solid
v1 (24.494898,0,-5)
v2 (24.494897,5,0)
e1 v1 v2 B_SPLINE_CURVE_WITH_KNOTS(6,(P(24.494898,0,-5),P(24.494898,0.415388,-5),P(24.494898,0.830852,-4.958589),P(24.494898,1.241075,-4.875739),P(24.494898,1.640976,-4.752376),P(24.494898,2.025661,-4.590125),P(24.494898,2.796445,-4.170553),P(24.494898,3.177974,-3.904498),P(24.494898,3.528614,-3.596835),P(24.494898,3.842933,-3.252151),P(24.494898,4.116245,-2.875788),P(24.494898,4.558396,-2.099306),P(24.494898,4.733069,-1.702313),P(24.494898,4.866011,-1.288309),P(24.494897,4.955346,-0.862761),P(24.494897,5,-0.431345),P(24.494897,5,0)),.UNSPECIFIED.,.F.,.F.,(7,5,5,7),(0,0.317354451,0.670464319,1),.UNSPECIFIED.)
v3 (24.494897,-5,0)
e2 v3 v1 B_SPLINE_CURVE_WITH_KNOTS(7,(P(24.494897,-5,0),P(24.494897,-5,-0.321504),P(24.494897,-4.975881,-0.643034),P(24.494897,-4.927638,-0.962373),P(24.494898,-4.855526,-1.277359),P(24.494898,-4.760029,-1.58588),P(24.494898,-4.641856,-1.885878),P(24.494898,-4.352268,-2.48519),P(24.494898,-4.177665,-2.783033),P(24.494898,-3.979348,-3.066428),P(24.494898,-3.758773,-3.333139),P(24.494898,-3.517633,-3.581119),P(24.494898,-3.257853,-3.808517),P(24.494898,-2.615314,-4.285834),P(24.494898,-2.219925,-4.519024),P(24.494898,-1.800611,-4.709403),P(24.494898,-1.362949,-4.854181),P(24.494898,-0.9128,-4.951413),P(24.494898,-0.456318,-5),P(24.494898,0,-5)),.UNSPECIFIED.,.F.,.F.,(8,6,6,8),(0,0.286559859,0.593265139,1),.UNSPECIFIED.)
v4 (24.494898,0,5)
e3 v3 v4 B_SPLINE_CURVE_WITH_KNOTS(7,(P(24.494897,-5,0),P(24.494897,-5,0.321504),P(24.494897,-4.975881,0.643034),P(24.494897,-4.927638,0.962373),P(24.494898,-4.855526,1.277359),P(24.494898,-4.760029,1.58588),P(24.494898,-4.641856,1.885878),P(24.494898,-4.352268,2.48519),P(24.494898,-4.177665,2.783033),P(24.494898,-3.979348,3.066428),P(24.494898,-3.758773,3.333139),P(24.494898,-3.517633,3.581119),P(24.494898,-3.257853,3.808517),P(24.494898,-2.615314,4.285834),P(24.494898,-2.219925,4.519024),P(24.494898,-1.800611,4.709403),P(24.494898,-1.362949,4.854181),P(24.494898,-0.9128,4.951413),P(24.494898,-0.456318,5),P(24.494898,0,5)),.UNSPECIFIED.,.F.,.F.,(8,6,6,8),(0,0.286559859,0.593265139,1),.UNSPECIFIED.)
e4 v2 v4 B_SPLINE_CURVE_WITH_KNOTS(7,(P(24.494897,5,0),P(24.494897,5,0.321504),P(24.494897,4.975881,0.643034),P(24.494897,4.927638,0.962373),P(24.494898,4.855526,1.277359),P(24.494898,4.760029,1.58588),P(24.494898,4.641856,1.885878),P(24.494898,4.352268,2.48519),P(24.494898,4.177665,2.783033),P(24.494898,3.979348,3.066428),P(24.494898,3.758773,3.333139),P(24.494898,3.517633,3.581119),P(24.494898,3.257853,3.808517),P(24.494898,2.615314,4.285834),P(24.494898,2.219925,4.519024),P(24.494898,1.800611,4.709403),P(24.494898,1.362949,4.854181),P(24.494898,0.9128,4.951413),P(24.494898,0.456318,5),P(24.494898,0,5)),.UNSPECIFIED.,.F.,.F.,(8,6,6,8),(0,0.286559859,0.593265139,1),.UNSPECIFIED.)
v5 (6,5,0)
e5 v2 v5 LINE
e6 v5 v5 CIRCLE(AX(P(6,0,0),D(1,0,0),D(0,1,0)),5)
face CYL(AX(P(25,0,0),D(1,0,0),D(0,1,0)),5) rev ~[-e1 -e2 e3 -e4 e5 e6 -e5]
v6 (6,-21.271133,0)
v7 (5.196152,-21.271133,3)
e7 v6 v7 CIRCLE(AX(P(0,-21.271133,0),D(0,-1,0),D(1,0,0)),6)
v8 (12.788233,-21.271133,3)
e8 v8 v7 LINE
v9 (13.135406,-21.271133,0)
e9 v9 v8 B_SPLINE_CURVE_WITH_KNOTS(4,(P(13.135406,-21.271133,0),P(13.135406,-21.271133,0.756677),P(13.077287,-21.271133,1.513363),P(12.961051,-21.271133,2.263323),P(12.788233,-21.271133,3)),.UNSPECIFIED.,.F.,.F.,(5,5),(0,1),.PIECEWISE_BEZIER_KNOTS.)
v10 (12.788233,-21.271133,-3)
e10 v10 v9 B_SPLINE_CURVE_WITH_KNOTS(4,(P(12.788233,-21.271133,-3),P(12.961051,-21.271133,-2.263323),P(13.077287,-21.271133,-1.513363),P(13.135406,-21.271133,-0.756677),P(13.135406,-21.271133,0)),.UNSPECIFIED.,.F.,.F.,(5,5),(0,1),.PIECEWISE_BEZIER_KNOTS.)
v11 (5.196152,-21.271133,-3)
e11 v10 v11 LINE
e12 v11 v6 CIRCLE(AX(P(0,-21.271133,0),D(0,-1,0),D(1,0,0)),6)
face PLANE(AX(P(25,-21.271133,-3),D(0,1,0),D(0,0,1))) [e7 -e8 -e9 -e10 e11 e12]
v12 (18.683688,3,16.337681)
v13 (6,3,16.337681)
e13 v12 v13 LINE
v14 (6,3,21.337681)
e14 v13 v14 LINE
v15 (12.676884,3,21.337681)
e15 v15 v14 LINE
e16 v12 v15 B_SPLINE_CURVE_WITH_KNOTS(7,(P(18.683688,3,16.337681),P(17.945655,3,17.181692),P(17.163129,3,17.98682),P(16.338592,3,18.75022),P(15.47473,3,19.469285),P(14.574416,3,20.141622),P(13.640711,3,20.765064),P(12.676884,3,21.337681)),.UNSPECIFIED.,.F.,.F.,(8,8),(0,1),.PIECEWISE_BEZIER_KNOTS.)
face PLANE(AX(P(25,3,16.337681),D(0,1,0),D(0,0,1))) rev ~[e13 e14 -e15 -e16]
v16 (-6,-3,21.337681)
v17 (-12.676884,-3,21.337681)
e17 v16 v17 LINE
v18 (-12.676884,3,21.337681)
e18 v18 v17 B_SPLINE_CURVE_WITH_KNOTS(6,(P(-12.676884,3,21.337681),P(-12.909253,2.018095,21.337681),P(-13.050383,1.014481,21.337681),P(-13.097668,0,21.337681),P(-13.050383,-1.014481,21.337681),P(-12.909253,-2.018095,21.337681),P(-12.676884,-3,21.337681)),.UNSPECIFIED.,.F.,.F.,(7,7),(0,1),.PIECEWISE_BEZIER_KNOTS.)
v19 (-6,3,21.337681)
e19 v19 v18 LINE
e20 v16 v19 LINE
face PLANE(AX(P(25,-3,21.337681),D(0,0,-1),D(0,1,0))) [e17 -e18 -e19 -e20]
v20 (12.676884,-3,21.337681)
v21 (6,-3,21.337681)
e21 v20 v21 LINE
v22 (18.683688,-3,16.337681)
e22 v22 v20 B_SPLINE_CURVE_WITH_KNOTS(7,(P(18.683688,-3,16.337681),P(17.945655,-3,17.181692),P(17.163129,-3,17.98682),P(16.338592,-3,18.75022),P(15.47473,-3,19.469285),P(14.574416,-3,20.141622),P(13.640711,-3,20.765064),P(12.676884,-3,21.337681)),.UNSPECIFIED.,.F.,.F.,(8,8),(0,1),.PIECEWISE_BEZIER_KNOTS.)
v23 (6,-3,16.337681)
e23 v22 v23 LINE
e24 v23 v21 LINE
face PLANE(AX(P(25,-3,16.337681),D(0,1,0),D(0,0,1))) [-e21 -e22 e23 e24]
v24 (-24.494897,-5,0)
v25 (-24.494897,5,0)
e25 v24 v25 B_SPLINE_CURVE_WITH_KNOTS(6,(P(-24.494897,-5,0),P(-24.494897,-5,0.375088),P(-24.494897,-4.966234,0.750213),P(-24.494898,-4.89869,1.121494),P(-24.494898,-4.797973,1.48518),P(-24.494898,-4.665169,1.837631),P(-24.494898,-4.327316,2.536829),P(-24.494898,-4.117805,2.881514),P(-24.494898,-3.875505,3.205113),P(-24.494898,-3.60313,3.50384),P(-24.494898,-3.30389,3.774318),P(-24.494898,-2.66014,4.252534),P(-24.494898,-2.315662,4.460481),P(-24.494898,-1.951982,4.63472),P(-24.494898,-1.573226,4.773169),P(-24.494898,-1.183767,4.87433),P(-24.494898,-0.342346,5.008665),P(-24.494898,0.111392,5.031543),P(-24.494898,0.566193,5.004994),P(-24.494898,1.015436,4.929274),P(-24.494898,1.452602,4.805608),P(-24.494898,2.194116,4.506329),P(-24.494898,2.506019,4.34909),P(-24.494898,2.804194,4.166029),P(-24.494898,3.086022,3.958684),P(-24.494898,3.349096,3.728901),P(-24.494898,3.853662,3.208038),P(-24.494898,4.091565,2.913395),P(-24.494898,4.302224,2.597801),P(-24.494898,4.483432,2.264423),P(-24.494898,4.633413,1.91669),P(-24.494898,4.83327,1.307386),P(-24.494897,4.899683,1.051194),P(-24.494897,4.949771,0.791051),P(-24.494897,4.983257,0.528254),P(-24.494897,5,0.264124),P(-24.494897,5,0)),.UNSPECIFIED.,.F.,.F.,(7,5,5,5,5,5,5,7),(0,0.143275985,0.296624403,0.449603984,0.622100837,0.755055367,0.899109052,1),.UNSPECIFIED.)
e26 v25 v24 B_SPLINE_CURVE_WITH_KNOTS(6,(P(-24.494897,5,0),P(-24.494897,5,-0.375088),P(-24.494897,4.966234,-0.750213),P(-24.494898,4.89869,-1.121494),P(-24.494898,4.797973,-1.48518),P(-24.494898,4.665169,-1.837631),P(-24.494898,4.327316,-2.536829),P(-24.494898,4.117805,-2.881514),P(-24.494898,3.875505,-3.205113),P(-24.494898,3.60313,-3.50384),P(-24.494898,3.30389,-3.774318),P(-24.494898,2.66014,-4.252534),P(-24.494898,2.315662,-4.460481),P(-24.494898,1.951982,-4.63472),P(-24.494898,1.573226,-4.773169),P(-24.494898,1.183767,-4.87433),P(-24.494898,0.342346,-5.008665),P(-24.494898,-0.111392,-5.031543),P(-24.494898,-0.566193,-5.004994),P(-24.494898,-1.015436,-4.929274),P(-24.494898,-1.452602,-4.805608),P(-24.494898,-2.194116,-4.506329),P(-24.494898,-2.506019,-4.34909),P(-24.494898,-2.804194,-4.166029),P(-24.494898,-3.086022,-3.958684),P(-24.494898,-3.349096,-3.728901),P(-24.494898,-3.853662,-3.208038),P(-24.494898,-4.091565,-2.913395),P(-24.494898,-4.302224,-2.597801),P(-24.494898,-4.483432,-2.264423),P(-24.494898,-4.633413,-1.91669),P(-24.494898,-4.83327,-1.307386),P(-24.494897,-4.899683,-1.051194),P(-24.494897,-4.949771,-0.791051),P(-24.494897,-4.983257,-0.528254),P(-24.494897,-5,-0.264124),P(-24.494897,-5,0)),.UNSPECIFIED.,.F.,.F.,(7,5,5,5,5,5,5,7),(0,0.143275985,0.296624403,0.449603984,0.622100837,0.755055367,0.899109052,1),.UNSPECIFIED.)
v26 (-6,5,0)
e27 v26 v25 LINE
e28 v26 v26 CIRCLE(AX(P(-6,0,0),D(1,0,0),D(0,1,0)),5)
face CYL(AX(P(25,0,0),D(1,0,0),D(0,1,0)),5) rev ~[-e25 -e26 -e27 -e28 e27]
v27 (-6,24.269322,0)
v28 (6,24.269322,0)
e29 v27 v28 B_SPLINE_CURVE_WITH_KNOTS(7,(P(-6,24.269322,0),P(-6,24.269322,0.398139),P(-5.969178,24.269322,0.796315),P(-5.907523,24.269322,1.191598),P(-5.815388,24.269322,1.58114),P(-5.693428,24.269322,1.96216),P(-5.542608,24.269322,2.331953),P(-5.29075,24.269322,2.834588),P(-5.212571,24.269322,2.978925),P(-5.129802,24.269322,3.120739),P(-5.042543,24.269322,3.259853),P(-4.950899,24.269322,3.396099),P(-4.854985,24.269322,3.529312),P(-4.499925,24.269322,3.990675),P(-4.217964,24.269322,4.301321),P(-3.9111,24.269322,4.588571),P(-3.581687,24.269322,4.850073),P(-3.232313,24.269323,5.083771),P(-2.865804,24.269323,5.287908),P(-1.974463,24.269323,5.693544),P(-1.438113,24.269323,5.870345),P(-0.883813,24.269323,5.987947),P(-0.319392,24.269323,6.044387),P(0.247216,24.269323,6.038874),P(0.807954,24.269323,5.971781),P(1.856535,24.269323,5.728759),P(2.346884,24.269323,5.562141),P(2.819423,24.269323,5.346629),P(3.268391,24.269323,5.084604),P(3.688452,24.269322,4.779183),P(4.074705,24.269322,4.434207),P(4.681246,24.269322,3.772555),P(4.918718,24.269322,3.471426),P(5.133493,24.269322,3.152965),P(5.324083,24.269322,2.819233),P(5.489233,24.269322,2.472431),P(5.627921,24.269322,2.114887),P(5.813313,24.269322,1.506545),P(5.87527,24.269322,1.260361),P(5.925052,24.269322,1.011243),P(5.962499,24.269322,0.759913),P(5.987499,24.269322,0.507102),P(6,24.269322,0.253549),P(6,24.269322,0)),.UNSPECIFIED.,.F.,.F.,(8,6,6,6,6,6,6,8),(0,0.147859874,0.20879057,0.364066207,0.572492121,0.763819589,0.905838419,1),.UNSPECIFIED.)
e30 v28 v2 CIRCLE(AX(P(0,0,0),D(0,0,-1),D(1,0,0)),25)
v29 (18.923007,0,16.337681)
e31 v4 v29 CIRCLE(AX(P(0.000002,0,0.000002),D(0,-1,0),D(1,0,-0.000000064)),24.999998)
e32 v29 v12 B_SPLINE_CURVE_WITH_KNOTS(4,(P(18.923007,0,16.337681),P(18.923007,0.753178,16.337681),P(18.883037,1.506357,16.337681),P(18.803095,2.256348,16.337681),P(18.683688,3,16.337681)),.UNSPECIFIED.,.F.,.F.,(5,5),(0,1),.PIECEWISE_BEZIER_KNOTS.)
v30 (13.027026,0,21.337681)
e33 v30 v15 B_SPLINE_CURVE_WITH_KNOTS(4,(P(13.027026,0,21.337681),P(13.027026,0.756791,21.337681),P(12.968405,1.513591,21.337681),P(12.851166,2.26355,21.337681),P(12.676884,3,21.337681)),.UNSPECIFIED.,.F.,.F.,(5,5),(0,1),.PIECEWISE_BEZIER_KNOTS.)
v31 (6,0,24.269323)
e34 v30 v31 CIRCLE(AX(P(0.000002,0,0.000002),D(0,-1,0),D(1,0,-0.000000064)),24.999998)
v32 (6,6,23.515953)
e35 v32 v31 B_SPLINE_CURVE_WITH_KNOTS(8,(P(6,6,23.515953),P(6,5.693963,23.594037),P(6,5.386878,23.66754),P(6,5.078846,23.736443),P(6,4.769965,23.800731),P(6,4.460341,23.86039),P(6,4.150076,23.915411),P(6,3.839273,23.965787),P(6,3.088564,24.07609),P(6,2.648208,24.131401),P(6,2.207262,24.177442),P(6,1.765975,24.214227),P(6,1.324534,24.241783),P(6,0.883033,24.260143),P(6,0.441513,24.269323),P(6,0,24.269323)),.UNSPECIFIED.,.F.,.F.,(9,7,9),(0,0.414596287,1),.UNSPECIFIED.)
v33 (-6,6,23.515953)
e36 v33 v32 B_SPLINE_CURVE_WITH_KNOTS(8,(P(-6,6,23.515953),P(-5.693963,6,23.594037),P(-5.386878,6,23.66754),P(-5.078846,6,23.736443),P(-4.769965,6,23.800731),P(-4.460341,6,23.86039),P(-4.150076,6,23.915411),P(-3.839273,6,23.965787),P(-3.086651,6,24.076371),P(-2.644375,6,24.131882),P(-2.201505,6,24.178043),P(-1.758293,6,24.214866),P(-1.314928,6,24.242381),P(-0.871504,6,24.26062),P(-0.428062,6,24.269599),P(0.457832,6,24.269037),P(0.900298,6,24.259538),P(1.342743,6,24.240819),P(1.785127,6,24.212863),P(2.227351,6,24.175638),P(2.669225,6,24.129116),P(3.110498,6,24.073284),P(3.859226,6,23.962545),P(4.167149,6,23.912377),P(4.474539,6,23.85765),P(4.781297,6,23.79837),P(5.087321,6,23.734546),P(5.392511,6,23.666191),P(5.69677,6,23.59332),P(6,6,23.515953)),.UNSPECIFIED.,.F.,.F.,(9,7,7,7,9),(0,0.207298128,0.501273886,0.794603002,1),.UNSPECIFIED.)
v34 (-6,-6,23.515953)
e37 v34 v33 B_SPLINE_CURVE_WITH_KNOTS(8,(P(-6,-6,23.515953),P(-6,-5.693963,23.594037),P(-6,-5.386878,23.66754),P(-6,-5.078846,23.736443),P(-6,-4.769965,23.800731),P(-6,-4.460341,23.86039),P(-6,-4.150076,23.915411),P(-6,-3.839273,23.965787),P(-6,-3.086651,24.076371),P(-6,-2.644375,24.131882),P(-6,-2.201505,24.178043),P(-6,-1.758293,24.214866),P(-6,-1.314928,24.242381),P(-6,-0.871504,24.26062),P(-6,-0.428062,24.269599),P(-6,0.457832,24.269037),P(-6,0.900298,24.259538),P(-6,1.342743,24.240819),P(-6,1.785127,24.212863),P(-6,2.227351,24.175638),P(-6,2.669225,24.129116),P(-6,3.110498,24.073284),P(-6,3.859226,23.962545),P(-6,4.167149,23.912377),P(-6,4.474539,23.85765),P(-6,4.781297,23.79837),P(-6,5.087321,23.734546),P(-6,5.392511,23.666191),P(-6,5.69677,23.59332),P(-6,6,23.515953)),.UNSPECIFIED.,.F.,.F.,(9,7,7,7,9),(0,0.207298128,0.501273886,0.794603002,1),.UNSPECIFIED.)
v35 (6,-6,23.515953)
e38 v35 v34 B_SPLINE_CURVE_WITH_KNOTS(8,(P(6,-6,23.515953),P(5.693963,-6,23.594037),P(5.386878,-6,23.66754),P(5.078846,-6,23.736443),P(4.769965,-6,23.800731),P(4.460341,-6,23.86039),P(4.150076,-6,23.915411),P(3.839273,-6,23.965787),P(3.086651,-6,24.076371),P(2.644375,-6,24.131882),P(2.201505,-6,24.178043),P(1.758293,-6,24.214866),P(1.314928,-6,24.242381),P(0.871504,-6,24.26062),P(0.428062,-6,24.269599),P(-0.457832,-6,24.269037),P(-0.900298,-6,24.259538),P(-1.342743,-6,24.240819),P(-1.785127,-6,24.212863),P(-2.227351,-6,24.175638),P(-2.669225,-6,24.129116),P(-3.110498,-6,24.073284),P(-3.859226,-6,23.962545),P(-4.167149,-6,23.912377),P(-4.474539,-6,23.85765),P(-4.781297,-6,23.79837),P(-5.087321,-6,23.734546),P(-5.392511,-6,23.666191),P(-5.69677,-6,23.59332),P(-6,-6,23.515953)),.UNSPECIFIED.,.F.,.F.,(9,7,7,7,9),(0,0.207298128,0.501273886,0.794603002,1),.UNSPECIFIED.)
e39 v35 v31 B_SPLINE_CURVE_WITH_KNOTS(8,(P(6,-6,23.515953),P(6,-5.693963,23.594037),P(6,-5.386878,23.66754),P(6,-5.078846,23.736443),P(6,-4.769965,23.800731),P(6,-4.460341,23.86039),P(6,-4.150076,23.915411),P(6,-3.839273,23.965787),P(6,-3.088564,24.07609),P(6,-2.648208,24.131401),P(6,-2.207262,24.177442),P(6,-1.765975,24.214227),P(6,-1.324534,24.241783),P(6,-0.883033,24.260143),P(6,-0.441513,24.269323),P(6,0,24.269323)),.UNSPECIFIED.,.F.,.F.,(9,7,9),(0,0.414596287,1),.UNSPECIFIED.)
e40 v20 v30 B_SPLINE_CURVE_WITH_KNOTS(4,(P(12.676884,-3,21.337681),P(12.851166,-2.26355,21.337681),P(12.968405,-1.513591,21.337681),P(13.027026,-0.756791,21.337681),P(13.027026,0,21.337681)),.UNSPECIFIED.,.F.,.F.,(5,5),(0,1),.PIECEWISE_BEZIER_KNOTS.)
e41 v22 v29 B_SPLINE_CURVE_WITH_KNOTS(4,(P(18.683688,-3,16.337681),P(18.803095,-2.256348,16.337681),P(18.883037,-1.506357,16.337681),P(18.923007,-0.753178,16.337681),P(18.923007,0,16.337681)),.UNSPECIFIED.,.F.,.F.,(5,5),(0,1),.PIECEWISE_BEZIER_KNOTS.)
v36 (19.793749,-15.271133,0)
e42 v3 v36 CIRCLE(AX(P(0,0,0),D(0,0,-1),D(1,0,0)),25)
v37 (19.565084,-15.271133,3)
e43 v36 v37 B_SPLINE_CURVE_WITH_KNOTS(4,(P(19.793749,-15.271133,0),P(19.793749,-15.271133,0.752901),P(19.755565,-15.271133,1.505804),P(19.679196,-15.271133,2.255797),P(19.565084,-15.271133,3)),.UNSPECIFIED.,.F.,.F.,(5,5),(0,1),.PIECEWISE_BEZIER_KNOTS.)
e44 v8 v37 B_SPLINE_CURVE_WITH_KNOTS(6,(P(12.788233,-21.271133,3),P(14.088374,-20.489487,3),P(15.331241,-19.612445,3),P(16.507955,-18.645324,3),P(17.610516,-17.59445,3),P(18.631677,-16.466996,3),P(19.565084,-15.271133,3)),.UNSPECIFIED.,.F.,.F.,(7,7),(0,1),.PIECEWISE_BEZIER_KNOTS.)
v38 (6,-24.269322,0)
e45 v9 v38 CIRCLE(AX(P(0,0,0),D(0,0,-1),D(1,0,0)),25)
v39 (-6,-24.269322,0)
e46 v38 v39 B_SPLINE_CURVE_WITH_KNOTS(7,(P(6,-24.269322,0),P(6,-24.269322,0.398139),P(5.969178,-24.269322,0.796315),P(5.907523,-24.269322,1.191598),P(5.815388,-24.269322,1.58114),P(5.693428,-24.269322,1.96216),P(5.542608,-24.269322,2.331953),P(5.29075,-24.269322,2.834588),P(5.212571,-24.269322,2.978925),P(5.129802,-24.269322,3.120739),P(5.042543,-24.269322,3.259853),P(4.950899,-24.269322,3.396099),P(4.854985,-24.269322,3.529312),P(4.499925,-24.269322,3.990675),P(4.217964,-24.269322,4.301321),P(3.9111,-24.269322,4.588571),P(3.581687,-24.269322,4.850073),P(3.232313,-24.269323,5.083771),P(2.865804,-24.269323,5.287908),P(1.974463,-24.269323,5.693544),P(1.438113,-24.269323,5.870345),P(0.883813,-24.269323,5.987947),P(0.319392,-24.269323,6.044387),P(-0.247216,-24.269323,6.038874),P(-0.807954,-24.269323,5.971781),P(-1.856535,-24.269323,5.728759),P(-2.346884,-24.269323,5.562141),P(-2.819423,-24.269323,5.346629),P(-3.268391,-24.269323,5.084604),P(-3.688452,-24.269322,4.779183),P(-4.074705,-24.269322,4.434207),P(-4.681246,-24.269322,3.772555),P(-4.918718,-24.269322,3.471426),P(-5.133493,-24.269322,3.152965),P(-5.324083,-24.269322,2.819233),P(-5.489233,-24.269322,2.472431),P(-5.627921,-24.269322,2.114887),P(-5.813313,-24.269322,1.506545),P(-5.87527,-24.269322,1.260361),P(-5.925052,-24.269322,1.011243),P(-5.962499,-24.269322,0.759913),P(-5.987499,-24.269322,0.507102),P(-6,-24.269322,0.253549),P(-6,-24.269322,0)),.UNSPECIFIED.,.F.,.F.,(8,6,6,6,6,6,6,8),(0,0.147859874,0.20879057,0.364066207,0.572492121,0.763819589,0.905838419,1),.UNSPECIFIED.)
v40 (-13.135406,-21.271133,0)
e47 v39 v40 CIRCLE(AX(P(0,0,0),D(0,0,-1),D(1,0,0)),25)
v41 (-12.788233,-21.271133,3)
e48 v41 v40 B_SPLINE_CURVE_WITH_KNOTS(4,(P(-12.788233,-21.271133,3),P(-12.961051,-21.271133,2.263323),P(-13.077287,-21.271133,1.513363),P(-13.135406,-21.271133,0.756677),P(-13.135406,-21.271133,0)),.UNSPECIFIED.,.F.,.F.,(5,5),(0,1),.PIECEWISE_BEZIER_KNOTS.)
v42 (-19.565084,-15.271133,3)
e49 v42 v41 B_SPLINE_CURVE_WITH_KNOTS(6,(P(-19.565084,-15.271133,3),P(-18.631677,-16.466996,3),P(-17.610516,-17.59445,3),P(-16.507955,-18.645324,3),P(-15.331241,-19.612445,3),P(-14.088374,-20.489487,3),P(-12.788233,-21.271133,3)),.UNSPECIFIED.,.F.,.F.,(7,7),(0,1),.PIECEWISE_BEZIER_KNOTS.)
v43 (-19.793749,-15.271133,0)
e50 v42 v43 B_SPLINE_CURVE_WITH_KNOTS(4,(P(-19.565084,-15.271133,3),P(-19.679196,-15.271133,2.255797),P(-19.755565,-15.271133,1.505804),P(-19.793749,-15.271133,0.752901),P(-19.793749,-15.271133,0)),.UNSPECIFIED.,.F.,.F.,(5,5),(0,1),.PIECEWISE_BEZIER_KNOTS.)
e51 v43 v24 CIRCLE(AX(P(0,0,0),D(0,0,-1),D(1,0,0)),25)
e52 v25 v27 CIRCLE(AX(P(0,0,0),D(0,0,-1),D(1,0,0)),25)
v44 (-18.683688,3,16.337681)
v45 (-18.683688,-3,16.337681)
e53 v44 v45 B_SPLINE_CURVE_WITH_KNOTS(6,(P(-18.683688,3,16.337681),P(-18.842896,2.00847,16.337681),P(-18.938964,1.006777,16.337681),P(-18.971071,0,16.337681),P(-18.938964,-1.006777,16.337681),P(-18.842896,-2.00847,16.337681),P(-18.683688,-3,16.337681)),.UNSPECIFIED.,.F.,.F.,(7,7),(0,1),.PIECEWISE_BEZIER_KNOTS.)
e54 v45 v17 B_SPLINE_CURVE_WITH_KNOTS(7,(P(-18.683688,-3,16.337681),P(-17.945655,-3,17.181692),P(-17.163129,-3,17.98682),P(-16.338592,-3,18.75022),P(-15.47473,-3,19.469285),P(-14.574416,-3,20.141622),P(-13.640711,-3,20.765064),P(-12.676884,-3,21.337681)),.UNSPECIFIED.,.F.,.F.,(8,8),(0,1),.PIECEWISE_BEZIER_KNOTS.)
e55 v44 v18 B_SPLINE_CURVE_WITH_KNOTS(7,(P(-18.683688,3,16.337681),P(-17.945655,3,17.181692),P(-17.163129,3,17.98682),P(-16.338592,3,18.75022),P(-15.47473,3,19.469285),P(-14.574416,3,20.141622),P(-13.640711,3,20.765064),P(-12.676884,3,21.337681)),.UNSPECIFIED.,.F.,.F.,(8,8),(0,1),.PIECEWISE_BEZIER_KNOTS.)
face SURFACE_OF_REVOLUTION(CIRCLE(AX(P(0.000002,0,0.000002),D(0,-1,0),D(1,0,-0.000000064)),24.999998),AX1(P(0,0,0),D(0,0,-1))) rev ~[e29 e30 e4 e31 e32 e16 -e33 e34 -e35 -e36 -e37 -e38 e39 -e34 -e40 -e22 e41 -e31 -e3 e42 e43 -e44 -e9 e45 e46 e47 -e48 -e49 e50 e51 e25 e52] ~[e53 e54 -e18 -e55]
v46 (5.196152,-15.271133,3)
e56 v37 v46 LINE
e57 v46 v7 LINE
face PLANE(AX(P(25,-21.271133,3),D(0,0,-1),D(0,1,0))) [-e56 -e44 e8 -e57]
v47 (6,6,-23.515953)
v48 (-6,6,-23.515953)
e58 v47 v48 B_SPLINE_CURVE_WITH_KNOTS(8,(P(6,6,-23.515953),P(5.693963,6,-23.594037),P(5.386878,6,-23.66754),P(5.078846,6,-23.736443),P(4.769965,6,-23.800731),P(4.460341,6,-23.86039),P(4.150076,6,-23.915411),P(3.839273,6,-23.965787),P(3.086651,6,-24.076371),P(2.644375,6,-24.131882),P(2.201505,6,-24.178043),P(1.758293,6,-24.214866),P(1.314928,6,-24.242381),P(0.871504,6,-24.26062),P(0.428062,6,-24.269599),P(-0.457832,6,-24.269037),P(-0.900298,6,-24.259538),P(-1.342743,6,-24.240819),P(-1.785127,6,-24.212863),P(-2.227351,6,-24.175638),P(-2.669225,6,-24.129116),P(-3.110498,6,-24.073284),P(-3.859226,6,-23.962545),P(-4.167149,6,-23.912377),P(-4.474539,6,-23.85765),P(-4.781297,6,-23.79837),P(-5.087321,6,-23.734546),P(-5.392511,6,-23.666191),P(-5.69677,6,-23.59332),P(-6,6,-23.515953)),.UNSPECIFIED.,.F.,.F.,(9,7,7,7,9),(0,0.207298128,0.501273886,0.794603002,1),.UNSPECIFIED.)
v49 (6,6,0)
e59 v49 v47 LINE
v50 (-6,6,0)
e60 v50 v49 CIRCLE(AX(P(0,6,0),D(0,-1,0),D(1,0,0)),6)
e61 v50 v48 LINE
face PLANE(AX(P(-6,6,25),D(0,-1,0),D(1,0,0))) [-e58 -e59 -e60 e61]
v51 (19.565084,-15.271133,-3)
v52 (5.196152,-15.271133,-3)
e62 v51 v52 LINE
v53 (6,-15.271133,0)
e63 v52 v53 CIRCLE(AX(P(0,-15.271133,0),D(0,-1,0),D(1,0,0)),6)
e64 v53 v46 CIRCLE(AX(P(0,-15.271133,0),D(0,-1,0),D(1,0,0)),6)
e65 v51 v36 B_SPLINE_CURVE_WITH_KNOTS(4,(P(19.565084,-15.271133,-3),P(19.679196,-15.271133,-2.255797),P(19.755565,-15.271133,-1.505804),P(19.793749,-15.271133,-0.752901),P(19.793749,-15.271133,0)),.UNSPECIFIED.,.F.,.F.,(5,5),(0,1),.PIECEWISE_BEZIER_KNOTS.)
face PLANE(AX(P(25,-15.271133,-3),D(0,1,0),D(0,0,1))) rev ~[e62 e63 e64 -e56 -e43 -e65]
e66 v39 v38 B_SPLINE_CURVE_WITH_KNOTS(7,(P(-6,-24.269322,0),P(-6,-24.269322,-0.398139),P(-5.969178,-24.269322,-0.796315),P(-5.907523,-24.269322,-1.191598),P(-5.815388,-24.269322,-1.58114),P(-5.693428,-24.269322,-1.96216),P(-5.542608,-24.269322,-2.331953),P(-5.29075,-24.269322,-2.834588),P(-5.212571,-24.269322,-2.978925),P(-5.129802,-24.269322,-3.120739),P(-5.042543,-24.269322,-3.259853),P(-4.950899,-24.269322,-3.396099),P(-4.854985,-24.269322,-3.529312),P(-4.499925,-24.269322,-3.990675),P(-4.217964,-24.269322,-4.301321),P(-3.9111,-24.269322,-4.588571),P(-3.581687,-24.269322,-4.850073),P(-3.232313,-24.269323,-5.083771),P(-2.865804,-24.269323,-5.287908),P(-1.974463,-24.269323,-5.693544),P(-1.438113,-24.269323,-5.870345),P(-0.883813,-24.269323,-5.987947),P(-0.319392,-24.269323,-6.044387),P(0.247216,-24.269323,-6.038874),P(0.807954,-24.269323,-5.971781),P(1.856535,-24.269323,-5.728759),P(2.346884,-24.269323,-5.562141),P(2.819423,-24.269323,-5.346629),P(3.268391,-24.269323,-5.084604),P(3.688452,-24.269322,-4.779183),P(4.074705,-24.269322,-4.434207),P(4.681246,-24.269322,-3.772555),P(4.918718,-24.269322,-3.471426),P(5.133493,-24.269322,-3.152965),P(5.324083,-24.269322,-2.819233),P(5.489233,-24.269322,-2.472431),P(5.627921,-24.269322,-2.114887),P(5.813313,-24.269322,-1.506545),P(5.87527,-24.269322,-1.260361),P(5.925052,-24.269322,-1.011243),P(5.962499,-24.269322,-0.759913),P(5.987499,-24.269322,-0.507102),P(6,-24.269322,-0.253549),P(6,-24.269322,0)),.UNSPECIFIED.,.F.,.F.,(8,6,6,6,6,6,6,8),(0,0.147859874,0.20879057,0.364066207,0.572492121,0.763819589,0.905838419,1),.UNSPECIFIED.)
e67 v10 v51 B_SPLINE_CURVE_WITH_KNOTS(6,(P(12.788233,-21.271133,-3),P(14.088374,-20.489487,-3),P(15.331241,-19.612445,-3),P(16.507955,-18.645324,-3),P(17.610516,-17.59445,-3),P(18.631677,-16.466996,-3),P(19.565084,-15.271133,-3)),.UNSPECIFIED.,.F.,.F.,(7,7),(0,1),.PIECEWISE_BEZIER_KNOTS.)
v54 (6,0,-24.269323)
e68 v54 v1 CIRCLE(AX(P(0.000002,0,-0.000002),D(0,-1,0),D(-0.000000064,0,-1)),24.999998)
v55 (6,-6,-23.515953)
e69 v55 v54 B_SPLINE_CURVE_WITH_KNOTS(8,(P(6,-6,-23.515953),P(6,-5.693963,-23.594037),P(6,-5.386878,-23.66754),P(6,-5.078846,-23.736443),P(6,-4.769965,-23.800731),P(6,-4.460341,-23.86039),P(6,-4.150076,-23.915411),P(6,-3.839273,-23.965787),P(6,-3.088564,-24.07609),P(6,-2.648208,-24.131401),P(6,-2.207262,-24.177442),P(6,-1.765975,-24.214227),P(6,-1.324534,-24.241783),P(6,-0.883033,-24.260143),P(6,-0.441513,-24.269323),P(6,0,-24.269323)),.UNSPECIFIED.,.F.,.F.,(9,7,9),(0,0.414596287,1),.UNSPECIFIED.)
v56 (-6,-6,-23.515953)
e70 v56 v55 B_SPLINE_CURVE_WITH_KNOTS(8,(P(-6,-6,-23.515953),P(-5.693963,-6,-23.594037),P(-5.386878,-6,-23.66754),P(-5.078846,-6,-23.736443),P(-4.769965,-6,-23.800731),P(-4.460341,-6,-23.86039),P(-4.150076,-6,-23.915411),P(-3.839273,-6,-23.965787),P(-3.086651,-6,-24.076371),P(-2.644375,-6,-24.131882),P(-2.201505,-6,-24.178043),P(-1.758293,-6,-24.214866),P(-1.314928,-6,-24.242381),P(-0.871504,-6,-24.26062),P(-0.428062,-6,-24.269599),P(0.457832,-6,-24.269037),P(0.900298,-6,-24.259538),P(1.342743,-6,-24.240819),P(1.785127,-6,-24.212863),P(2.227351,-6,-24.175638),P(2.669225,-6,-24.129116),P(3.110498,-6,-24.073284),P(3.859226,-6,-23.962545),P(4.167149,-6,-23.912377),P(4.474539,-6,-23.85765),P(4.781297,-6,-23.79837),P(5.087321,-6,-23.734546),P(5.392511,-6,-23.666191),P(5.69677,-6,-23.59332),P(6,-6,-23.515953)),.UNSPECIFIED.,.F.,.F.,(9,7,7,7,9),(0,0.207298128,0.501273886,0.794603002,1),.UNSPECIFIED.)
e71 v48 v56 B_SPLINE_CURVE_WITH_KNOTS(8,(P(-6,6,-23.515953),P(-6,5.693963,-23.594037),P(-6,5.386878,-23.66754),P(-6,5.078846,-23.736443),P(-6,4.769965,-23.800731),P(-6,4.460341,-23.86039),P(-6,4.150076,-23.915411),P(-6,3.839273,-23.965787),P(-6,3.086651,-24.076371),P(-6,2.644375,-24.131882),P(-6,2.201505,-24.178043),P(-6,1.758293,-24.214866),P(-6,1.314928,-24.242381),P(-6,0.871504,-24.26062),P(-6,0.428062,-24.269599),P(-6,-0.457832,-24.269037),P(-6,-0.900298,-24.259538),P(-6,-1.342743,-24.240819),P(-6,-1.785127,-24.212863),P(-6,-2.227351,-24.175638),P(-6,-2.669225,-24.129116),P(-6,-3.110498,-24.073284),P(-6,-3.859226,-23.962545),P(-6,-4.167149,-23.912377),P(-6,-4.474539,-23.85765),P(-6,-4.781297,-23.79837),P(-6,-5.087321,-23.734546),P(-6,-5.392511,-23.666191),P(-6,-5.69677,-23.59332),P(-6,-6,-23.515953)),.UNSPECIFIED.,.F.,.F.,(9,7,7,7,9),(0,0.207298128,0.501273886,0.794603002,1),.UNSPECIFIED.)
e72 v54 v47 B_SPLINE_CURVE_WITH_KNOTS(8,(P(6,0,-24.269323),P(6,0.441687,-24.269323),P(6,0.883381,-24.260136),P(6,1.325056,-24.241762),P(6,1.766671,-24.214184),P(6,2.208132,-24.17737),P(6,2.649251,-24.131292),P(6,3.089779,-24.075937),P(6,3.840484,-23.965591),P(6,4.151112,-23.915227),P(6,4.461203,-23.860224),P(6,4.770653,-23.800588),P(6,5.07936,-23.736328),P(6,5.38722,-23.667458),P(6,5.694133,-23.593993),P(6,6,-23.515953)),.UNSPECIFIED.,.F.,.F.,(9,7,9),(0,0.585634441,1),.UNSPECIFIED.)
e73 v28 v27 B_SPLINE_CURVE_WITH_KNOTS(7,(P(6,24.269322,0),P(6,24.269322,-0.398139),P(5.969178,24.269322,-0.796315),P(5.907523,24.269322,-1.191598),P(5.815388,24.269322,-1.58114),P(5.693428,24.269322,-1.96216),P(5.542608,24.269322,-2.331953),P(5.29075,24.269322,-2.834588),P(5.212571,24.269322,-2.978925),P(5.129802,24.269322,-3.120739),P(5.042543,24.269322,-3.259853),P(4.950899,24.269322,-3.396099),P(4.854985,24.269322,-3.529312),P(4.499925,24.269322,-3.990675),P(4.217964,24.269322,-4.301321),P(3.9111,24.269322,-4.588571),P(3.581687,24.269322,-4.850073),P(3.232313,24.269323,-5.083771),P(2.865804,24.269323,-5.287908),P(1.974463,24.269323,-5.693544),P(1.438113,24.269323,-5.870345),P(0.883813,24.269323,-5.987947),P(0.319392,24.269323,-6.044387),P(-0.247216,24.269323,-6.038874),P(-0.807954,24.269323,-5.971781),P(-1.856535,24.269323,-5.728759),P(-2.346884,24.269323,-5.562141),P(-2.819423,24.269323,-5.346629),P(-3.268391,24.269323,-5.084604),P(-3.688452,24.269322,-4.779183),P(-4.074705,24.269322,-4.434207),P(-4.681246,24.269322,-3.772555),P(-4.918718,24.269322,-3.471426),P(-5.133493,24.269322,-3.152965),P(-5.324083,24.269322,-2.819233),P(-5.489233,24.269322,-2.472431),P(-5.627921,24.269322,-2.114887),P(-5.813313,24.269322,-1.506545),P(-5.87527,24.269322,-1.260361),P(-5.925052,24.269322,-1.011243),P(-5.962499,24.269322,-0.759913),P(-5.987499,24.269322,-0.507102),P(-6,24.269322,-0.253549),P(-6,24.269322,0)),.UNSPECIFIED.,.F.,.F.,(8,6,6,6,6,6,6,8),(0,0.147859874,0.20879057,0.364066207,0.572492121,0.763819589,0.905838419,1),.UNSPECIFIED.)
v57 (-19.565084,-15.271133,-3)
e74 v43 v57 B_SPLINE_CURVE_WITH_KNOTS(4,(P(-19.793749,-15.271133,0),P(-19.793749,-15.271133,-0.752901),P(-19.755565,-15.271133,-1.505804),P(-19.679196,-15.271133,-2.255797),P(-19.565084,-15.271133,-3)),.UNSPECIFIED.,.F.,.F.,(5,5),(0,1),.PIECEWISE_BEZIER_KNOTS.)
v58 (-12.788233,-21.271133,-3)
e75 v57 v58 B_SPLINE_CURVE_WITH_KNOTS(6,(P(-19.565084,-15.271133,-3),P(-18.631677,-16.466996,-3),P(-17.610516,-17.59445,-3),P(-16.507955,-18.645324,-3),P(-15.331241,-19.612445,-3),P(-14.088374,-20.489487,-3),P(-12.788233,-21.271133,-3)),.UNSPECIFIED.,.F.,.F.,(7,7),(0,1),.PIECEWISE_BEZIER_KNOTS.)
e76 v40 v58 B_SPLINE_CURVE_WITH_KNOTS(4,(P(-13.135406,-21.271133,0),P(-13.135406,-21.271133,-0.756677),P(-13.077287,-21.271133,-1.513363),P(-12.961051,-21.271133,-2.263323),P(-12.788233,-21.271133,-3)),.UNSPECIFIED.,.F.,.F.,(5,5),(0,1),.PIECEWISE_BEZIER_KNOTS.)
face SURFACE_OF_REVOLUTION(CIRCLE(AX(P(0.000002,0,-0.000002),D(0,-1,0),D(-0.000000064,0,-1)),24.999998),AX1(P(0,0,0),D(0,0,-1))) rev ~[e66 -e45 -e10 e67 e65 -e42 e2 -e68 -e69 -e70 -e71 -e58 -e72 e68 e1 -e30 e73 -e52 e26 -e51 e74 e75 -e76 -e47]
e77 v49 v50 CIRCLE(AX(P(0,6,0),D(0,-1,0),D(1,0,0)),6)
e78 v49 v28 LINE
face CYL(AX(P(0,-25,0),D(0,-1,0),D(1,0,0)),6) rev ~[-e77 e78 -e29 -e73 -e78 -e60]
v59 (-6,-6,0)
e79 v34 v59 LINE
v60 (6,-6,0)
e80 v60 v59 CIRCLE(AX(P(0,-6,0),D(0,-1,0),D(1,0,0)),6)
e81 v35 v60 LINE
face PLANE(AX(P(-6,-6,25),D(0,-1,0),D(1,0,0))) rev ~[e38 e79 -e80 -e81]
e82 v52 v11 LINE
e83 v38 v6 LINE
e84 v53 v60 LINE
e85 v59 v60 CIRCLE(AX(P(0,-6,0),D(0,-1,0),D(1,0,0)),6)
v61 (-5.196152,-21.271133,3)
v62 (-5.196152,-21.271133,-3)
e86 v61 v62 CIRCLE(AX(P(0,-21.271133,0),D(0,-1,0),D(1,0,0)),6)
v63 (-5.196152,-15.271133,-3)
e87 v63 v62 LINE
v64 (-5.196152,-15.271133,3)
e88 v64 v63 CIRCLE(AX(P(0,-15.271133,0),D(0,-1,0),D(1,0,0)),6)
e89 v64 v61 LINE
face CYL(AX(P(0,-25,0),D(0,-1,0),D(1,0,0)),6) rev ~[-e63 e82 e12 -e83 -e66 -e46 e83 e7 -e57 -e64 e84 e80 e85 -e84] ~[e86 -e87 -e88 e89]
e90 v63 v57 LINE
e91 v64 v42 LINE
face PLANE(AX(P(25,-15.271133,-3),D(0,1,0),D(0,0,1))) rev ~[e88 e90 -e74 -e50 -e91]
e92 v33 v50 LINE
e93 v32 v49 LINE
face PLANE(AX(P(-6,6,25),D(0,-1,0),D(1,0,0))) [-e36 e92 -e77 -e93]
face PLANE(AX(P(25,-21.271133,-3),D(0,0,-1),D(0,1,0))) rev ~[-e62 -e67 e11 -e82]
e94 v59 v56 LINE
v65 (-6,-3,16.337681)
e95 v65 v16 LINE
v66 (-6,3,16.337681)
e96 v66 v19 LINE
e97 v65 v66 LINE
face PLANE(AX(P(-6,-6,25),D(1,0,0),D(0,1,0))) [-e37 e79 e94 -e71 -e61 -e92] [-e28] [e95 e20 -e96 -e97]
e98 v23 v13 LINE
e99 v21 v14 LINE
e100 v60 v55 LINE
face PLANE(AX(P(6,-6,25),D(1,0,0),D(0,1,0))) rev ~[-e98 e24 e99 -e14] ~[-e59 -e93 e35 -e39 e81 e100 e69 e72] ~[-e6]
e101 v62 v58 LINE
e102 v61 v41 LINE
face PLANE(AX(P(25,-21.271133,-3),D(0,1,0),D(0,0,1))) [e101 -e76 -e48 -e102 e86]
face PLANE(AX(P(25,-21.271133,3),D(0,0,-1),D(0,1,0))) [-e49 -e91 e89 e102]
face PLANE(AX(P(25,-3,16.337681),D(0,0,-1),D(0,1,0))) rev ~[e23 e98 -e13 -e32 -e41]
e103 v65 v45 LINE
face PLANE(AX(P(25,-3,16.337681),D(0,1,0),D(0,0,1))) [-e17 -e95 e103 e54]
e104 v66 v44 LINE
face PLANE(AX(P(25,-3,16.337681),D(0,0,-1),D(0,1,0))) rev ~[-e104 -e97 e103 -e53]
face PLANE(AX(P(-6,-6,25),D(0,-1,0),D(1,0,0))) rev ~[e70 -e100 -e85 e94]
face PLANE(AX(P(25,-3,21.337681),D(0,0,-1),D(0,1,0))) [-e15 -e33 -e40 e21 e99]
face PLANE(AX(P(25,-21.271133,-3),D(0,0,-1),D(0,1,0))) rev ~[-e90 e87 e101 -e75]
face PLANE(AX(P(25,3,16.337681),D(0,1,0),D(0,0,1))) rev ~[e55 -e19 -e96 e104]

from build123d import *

# Parameters (mm, degrees)
F3_R      = 6
F4_DEPTH  = 50.001
F6_W      = 12
F6_H      = 12
F7_DEPTH  = 50.001
F9_R      = 5
F9_W      = 6
F9_H      = 6
F9_H_2    = 5
F10_DEPTH = 50.001


with BuildPart() as f1:
    # F0 (on Front) → F1 (revolve)
    with BuildSketch(Plane.XZ):
        with BuildLine():
            ThreePointArc((0, -25), (17.67767, -17.67767), (25, 0))
            ThreePointArc((25, 0), (17.67767, 17.67767), (0, 25))
            Line((0, 25), (0, -25))
        make_face()
    revolve(axis=Axis((0, 0, 0), (0, 0, -1)))

    # F3 (on offset) → F4 (cut, through all)
    with BuildSketch(Plane.XZ.offset(25)):
        Circle(F3_R)
    extrude(amount=-F4_DEPTH, mode=Mode.SUBTRACT)

    # F6 (on offset) → F7 (cut, through all)
    with BuildSketch(Plane.XY.offset(25)):
        Rectangle(F6_W, F6_H)
    extrude(amount=-F7_DEPTH, mode=Mode.SUBTRACT)

    # F9 (on offset) → F10 (cut, through all)
    with BuildSketch(Plane.YZ.offset(25)):
        Circle(F9_R)
        with Locations((-18.271133, 0)):
            Rectangle(F9_W, F9_H)
        with Locations((0, 18.837681)):
            Rectangle(F9_W, F9_H_2)
    extrude(amount=-F10_DEPTH, mode=Mode.SUBTRACT)


solid = f1.part
